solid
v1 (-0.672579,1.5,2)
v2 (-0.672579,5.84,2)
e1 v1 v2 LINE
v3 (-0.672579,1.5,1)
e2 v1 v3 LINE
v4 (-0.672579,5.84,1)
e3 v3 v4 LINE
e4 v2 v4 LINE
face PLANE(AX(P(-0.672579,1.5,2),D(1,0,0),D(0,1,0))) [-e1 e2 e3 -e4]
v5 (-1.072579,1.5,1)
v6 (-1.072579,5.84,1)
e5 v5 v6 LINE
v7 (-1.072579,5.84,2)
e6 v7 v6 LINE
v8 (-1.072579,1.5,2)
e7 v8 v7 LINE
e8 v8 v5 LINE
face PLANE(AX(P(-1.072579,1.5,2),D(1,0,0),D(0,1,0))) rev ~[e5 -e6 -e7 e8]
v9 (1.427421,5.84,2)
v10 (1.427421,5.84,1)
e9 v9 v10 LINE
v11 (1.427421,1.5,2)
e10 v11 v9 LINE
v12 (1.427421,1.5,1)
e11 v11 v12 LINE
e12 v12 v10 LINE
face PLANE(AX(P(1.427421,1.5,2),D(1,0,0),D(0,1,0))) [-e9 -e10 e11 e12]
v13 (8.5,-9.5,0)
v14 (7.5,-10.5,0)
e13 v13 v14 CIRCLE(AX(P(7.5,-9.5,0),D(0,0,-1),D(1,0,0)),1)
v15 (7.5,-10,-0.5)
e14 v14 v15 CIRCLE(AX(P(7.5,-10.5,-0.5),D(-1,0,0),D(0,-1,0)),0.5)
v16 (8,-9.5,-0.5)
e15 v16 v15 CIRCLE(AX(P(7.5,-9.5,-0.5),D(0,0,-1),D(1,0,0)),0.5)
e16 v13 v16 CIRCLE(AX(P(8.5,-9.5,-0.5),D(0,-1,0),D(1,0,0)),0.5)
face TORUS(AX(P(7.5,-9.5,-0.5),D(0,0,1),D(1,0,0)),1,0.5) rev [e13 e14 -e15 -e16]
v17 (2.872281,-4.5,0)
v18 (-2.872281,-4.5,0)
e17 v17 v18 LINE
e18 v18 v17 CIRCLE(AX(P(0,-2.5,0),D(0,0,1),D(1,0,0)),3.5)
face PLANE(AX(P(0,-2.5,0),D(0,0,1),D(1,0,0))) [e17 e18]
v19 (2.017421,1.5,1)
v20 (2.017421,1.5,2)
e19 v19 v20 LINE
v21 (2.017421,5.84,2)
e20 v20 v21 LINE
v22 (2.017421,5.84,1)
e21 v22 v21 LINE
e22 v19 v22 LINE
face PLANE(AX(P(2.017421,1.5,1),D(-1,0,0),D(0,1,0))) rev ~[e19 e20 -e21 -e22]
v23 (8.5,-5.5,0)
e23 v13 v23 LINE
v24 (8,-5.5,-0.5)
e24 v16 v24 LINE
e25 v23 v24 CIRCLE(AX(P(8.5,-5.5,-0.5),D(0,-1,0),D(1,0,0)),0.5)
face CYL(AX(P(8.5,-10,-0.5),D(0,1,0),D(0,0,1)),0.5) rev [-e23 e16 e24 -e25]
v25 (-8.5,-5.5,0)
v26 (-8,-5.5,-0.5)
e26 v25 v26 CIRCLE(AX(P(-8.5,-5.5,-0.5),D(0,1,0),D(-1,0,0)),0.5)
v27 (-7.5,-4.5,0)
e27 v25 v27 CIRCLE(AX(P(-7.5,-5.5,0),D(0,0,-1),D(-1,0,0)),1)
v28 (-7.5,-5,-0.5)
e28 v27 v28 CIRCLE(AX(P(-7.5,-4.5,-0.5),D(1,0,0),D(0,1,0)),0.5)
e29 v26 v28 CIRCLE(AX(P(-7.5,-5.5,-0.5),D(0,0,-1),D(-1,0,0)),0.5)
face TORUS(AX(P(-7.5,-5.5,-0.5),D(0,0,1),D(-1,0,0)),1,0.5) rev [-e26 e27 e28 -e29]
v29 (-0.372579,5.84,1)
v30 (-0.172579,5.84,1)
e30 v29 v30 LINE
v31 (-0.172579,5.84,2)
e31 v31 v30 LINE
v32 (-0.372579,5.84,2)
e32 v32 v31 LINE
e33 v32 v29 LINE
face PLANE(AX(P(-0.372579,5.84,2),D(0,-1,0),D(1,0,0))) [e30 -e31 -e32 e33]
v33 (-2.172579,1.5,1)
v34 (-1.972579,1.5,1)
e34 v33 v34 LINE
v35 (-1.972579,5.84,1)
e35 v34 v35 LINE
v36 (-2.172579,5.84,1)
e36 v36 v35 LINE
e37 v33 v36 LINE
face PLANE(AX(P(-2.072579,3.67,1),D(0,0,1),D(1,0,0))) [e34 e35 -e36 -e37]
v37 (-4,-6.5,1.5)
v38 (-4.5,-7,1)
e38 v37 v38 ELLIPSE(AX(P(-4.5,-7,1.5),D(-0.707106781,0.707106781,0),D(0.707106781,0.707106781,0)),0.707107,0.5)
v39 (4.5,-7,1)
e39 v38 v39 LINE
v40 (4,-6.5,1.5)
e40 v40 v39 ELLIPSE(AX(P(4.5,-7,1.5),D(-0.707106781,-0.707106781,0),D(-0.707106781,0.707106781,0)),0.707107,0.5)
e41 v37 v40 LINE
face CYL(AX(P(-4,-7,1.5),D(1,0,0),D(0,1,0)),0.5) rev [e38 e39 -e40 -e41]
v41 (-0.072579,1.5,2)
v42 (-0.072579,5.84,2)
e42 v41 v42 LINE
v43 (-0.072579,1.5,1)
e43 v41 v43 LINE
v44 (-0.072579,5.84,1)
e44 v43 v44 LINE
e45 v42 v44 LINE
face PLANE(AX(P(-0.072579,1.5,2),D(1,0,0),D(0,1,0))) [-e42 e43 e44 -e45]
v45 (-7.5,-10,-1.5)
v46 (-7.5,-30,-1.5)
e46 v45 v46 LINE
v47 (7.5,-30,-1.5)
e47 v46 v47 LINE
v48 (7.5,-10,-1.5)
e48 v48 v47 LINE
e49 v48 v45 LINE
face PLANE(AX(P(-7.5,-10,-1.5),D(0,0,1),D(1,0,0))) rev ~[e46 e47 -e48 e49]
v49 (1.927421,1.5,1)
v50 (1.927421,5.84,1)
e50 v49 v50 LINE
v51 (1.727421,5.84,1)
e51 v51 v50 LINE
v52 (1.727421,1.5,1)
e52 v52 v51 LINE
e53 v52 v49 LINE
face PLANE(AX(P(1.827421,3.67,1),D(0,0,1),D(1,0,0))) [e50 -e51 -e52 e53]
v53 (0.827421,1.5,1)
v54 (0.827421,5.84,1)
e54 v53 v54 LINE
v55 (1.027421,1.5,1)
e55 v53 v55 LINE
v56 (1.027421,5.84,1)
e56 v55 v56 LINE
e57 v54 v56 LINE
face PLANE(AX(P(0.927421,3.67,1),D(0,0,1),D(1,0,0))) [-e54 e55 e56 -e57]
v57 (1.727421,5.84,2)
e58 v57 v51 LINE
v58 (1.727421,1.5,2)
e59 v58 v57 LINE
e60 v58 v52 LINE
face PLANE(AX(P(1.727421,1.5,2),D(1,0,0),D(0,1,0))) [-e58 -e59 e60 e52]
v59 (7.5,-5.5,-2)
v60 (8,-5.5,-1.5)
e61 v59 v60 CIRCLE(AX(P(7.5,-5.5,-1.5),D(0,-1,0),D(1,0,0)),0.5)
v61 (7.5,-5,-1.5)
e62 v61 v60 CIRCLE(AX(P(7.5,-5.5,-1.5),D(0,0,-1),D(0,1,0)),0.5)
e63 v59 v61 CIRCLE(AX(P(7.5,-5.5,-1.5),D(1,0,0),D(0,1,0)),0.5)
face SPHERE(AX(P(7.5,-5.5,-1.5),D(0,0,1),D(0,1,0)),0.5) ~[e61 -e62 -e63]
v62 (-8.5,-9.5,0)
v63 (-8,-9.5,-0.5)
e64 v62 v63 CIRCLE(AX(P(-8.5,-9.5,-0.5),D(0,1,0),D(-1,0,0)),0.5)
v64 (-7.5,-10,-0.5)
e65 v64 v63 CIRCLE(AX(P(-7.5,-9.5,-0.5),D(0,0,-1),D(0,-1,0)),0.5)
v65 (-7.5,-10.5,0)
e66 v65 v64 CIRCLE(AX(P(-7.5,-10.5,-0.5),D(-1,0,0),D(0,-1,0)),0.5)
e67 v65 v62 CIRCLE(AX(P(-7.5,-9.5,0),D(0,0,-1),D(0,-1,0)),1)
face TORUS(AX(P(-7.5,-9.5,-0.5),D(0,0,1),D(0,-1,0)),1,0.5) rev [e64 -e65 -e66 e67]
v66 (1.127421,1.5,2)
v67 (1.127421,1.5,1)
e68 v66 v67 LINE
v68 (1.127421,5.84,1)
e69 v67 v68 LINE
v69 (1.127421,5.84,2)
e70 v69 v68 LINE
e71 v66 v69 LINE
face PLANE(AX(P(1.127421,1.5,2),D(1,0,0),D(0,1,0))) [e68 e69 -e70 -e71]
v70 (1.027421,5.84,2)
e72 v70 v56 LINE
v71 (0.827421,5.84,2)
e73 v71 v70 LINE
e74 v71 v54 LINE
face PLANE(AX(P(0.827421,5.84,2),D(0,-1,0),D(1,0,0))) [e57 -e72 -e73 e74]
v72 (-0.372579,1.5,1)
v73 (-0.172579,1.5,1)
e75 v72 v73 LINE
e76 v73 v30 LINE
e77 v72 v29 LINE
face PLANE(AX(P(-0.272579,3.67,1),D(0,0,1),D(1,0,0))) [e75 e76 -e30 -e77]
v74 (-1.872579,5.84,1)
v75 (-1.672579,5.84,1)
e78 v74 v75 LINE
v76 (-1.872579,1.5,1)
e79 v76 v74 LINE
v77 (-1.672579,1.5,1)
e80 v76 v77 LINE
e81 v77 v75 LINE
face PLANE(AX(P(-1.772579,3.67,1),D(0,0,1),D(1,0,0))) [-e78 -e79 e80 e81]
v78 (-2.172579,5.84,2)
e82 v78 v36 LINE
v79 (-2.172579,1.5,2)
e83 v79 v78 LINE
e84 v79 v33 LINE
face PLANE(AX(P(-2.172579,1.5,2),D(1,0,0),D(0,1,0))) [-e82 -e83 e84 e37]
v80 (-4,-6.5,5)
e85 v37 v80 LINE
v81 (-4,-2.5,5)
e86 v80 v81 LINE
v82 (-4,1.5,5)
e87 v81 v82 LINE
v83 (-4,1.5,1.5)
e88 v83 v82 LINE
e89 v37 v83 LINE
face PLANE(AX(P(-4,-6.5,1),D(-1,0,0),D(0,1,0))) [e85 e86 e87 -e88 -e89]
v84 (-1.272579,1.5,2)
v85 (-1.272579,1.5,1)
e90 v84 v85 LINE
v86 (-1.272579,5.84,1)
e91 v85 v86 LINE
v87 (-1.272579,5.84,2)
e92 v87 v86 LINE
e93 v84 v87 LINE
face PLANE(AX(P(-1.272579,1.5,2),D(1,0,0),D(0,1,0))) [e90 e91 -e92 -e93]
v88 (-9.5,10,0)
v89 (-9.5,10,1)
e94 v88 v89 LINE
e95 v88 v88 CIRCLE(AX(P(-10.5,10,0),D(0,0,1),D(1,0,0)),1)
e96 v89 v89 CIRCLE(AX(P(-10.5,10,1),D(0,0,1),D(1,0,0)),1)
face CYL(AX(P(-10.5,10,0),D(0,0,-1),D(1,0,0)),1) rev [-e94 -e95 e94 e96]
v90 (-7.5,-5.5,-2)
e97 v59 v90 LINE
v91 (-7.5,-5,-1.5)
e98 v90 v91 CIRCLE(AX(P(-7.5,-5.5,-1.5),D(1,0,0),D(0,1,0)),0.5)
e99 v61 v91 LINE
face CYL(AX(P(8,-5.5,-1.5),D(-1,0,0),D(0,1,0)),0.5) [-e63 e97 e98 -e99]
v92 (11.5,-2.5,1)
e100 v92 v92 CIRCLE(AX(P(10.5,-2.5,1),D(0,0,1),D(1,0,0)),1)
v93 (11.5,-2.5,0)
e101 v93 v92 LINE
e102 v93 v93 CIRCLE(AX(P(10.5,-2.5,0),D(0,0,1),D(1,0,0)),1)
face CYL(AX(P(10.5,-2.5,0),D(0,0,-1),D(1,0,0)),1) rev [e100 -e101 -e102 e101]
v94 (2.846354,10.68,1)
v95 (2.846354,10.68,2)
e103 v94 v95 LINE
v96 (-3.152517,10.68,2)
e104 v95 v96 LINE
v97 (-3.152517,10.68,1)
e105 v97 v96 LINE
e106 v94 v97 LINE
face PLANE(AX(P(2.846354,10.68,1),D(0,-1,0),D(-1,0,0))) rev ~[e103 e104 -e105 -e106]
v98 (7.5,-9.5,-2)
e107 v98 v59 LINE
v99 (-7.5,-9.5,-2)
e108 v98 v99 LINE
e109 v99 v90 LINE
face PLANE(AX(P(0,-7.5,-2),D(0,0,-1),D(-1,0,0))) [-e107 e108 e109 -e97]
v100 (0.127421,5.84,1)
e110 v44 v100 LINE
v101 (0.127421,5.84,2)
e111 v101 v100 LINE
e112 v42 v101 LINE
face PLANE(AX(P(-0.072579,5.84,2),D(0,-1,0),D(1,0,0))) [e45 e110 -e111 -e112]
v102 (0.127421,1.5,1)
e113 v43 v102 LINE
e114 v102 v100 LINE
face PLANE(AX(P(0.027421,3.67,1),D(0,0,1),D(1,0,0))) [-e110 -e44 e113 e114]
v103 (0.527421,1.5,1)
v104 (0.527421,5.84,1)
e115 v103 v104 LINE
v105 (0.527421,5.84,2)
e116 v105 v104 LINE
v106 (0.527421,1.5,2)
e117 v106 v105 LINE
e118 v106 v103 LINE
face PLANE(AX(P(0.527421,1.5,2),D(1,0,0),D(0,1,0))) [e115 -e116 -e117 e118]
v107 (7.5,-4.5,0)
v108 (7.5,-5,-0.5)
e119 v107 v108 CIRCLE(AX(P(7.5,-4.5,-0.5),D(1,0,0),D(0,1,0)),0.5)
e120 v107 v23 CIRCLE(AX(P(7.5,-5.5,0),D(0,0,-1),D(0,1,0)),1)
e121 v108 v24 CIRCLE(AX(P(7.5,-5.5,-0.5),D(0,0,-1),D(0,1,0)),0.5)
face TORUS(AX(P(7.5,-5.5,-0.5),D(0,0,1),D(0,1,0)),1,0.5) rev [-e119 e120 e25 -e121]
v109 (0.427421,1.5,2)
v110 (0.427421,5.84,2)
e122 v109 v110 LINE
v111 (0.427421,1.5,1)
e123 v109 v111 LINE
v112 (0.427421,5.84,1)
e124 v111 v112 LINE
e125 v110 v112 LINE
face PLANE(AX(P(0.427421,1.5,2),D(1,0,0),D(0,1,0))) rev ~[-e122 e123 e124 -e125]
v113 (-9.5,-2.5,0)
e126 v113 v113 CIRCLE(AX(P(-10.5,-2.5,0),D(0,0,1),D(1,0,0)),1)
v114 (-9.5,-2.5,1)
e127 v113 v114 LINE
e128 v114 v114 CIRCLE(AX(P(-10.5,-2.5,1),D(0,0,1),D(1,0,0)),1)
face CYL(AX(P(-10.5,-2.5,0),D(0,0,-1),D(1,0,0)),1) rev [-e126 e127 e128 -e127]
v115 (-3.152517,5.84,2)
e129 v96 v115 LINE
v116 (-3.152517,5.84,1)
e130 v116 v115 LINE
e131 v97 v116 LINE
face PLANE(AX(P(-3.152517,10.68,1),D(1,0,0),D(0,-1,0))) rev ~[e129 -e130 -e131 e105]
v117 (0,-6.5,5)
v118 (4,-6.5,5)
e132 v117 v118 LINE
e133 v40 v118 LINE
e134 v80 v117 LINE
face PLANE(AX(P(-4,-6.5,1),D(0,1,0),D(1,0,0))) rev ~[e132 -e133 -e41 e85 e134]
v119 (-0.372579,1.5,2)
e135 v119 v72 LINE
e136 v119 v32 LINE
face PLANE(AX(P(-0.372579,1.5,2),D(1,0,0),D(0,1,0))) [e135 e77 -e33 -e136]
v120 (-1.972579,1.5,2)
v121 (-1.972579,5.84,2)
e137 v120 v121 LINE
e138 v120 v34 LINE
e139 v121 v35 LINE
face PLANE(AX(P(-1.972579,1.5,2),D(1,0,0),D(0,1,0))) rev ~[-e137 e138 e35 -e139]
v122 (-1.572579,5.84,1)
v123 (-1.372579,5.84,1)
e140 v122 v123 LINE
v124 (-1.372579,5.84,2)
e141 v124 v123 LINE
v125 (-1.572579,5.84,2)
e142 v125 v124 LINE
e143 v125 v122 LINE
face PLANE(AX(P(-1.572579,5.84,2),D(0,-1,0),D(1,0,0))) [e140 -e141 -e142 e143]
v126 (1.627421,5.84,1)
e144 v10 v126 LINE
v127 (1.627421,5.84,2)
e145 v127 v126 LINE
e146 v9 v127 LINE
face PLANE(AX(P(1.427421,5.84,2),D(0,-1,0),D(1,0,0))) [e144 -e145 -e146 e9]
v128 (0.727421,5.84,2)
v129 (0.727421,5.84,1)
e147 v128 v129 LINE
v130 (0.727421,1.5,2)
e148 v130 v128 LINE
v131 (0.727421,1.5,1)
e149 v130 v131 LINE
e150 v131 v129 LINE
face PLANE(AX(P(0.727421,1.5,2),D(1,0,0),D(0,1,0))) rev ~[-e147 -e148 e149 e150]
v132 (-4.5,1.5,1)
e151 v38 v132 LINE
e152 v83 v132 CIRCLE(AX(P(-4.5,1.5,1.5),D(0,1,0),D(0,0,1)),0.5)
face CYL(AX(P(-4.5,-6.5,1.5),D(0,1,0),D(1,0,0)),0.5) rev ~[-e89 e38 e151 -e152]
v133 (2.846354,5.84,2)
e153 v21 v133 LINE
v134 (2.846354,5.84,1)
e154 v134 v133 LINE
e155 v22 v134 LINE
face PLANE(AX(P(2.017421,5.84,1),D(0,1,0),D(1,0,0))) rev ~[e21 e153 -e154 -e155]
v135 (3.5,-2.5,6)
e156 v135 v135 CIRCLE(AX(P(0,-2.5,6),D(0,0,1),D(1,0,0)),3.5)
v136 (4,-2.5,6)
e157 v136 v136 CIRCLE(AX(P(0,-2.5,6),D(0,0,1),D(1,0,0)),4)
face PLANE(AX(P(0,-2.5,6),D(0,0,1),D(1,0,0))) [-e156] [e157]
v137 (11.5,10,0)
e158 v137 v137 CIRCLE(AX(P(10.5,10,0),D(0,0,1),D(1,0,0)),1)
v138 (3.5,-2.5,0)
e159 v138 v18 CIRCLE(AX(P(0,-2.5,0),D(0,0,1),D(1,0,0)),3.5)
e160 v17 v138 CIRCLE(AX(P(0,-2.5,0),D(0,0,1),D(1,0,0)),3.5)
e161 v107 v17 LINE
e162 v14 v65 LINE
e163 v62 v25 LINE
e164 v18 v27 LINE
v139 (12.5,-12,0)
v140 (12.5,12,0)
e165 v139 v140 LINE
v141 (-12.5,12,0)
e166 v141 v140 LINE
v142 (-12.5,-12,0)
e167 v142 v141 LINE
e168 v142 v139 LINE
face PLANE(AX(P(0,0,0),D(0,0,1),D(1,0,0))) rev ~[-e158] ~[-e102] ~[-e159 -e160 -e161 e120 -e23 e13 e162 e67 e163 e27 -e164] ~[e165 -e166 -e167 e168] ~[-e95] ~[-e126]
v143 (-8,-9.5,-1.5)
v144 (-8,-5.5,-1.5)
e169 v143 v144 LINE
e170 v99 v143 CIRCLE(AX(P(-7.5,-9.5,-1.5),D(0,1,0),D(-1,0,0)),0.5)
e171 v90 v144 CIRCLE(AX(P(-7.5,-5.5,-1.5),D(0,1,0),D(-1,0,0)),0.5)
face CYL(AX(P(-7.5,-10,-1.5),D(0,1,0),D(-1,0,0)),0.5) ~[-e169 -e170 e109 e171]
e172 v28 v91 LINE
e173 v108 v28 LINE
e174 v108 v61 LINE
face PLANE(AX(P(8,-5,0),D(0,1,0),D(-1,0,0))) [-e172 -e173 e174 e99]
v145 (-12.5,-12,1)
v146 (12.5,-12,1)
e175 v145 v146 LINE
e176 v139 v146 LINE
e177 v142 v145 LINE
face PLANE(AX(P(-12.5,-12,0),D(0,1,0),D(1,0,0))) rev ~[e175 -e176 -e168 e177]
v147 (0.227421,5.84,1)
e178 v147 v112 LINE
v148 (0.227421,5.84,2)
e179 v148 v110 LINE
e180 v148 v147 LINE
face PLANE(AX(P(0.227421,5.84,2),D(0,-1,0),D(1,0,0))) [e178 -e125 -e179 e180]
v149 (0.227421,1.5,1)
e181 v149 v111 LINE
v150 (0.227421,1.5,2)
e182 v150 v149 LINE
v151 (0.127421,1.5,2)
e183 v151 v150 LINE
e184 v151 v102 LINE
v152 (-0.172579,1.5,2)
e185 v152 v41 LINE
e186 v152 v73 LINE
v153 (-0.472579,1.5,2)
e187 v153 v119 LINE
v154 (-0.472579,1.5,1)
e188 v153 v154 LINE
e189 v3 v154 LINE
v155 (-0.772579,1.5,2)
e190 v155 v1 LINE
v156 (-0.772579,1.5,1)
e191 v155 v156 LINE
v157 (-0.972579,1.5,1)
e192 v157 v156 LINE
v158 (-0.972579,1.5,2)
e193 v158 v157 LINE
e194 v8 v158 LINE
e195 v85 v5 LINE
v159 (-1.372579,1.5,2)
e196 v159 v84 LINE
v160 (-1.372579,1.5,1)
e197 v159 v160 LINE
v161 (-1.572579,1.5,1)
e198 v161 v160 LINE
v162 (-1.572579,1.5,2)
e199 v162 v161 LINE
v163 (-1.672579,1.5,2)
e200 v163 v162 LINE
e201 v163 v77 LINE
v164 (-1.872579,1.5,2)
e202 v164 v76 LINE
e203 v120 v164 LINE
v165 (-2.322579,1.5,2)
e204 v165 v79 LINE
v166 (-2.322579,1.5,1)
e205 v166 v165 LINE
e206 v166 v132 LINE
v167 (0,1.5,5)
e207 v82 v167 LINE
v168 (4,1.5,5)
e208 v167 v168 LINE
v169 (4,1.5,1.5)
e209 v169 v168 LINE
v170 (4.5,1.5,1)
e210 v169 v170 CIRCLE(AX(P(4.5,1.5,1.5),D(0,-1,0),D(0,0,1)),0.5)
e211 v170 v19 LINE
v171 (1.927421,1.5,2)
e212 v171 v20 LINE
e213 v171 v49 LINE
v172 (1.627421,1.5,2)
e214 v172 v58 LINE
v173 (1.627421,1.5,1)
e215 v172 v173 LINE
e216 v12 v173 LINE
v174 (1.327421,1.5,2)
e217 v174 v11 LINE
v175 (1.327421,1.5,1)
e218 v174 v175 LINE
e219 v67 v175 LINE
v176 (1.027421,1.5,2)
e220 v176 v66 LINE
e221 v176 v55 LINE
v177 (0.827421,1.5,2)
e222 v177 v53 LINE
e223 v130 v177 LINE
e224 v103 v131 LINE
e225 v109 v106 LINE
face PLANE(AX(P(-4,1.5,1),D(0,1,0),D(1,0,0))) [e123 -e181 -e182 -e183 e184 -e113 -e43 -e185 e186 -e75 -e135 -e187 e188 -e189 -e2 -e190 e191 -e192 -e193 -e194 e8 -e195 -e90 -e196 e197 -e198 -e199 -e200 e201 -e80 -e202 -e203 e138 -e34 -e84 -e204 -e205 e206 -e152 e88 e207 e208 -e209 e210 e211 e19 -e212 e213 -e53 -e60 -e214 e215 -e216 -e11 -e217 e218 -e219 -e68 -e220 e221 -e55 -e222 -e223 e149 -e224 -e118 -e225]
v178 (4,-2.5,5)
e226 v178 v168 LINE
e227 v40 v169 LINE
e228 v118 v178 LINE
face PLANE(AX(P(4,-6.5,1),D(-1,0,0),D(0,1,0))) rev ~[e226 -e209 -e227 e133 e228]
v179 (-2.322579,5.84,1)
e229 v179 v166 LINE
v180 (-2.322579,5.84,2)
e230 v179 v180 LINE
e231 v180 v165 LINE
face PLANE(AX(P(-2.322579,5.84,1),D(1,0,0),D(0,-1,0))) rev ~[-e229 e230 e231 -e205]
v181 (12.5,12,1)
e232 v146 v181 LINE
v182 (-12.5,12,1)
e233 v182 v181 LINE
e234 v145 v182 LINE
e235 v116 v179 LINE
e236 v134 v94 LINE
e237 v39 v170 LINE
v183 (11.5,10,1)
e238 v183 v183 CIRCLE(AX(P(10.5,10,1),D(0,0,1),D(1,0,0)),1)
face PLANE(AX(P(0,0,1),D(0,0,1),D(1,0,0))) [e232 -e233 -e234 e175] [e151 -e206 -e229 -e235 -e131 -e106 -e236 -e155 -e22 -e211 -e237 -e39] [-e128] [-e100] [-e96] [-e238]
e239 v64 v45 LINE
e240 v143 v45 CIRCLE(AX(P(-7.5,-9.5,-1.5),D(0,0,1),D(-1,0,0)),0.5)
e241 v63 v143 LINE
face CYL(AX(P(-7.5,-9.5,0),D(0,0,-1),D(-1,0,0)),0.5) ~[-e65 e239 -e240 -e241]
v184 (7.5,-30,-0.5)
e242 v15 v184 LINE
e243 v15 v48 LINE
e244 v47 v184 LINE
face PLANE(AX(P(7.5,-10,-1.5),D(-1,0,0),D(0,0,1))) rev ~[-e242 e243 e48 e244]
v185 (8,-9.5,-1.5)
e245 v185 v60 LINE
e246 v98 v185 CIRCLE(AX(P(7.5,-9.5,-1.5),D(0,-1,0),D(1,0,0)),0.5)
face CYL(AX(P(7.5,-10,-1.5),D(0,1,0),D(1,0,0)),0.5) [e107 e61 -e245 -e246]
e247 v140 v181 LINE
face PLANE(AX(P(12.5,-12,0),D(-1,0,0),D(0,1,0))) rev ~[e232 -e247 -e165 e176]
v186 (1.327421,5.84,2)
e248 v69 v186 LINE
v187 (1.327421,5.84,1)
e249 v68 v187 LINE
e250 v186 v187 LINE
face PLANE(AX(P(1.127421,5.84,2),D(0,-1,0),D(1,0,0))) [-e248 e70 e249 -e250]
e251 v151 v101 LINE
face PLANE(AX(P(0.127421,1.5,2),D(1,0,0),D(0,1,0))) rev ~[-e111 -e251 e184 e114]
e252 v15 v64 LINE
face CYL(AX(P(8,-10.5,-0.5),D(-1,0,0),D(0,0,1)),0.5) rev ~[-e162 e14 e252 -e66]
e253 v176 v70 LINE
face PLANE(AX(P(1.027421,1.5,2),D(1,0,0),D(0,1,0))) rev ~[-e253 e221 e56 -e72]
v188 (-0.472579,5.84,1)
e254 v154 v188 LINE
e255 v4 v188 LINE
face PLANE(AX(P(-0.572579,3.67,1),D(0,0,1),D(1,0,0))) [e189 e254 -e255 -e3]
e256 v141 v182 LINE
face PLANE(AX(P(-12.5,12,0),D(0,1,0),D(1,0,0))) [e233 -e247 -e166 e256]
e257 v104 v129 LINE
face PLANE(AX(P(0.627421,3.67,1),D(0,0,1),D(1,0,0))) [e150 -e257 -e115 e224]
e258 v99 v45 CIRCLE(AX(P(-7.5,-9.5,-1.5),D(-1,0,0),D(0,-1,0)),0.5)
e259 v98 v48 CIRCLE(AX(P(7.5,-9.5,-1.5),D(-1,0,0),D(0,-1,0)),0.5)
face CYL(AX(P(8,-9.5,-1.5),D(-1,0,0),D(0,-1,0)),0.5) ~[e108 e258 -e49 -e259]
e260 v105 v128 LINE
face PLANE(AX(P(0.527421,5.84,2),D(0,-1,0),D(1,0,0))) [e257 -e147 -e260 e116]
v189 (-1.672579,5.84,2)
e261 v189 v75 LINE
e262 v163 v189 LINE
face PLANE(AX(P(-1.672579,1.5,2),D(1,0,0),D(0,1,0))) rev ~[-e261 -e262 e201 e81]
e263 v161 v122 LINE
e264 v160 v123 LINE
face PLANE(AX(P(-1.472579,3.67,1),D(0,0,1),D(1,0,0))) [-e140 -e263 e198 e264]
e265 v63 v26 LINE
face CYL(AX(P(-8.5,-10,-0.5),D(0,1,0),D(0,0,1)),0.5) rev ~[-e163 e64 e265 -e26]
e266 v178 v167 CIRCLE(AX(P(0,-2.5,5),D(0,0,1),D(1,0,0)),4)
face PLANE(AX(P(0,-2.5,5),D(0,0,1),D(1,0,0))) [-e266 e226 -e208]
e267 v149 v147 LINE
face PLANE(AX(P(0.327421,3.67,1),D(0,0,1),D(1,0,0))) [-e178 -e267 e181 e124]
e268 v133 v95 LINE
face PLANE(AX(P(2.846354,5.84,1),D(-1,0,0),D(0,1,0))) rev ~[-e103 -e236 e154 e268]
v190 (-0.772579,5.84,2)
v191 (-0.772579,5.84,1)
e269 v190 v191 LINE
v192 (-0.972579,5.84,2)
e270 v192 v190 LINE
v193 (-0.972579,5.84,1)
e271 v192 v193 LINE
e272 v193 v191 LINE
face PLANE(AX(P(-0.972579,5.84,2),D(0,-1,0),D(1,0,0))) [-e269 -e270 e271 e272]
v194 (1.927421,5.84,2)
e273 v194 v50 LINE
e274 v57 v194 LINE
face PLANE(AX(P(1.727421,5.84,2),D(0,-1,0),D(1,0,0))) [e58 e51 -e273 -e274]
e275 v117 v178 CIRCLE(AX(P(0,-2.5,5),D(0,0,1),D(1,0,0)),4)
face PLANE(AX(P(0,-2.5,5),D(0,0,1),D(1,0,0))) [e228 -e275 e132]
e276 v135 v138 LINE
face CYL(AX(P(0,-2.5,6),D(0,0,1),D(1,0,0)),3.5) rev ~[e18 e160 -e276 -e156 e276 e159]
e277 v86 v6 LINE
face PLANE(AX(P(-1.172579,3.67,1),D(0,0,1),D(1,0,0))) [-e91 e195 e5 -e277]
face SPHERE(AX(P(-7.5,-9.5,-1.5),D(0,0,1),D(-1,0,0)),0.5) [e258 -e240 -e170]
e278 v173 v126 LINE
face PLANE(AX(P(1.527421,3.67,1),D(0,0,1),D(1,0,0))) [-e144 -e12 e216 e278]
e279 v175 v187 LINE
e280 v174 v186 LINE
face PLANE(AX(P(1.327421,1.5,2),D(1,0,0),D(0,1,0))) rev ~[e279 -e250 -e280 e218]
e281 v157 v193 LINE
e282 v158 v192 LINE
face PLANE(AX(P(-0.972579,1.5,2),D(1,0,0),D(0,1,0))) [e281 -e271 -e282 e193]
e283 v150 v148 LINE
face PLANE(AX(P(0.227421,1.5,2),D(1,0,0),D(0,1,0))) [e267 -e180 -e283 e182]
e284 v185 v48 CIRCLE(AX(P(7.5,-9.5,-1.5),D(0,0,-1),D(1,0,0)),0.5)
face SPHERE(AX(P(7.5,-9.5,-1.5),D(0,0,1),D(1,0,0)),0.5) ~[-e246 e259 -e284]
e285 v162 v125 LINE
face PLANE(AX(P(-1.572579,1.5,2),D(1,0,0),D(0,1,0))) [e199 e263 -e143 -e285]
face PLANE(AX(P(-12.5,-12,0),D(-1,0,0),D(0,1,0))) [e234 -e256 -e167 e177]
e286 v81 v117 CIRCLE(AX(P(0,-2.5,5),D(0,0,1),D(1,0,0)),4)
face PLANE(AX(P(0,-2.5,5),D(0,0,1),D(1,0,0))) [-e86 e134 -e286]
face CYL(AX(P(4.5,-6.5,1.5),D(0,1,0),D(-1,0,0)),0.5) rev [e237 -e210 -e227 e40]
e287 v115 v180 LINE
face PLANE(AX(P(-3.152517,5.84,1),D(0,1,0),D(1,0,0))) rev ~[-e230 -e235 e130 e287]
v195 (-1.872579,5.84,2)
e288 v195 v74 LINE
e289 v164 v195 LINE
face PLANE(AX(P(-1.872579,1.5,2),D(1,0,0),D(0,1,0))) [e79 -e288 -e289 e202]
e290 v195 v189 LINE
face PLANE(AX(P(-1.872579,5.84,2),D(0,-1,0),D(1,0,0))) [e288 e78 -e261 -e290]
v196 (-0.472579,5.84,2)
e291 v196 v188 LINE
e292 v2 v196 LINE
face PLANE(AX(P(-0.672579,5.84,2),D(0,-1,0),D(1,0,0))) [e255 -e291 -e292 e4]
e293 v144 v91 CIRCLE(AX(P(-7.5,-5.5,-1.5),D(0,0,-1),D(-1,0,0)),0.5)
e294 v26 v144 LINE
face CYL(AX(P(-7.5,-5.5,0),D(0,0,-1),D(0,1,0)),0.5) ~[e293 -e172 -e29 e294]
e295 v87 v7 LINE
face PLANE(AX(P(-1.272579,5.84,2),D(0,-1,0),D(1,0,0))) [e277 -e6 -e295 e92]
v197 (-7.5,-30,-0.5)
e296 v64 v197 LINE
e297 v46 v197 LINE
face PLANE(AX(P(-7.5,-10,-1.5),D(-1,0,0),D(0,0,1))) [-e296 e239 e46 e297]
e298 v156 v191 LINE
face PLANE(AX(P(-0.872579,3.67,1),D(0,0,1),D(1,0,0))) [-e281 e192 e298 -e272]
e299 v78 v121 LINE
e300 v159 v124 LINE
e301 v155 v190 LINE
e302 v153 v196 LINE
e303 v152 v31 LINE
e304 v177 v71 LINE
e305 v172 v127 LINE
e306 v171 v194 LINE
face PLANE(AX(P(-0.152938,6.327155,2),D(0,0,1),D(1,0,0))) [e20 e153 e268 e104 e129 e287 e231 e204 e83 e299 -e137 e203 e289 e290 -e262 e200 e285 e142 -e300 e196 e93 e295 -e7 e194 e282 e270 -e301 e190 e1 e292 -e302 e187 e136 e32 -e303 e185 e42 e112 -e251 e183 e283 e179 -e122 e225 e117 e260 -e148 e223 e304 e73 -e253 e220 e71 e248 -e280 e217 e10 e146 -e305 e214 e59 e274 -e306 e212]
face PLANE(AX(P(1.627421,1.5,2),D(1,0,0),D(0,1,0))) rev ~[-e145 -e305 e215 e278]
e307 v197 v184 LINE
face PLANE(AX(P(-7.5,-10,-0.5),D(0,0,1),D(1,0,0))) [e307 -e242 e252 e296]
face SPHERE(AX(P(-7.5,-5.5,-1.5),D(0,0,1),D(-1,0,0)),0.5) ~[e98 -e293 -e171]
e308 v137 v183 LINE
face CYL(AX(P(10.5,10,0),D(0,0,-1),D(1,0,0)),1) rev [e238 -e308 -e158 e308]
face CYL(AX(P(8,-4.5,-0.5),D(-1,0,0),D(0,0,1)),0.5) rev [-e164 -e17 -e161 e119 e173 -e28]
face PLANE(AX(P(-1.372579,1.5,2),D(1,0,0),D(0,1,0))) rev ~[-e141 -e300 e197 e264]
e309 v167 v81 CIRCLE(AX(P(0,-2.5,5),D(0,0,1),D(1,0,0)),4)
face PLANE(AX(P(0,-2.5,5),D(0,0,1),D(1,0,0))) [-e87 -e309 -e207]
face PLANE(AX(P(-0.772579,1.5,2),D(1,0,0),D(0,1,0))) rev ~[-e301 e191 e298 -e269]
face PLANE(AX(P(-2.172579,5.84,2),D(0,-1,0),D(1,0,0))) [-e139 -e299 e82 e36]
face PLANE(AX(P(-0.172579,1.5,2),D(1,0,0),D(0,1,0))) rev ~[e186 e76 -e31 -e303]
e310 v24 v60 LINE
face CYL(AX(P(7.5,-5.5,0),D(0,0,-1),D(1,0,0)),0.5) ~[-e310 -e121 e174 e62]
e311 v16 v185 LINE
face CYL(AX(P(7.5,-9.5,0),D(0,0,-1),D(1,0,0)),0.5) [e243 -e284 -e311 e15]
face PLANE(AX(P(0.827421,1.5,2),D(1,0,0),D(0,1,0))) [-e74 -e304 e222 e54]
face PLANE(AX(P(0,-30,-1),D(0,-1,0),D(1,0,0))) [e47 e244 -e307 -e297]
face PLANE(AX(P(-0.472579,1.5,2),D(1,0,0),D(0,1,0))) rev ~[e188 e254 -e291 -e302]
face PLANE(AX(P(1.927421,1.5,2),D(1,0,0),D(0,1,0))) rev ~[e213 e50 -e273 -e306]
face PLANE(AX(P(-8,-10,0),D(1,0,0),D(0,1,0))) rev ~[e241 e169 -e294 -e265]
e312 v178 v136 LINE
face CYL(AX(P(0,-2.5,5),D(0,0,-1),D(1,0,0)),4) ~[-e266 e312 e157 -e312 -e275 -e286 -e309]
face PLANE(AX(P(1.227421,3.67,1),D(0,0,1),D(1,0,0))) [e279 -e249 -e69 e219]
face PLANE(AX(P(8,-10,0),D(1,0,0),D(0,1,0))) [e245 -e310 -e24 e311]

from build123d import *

# Parameters (mm, degrees)
SKETCH1_W           = 25
SKETCH1_H           = 24
SKETCH1_R           = 1
BOSS_EXTRUDE1_DEPTH = 1
SKETCH2_W           = 8
SKETCH2_H           = 8
BOSS_EXTRUDE2_DEPTH = 4
SKETCH3_R           = 4
BOSS_EXTRUDE3_DEPTH = 1
FILLET2_R           = 0.5
SKETCH4_W           = 16
SKETCH4_H           = 5
BOSS_EXTRUDE4_DEPTH = 2
FILLET3_R           = 0.5
SKETCH5_R           = 3.5
CUT_EXTRUDE1_DEPTH  = 6
BOSS_EXTRUDE5_DEPTH = 1
SKETCH7_W           = 0.2
SKETCH7_H           = 4.34
CUT_EXTRUDE2_DEPTH  = 1
LPATTERN1_COUNT     = 14
LPATTERN1_PITCH     = 0.3
SKETCH8_W           = 15
SKETCH8_H           = 1
BOSS_EXTRUDE6_DEPTH = 20


with BuildPart() as part:
    # Sketch1 → Boss-Extrude1 (new body)
    with BuildSketch(Plane.XY):
        Rectangle(SKETCH1_W, SKETCH1_H)
        with Locations((10.5, 10)):
            Circle(SKETCH1_R, mode=Mode.SUBTRACT)
        with Locations((-10.5, 10)):
            Circle(SKETCH1_R, mode=Mode.SUBTRACT)
        with Locations((-10.5, -2.5)):
            Circle(SKETCH1_R, mode=Mode.SUBTRACT)
        with Locations((10.5, -2.5)):
            Circle(SKETCH1_R, mode=Mode.SUBTRACT)
    extrude(amount=BOSS_EXTRUDE1_DEPTH)

    # Sketch2 → Boss-Extrude2 (add)
    with BuildSketch(Plane.XY.offset(1)):
        with Locations((0, -2.5)):
            Rectangle(SKETCH2_W, SKETCH2_H)
    extrude(amount=BOSS_EXTRUDE2_DEPTH)

    # Sketch3 → Boss-Extrude3 (add)
    with BuildSketch(Plane.XY.offset(5)):
        with Locations((0, -2.5)):
            Circle(SKETCH3_R)
    extrude(amount=BOSS_EXTRUDE3_DEPTH)

    # Fillet2
    fillet2_edges = [part.edges().sort_by_distance(p)[0] for p in [
        (4, -2.5, 1),
        (-4, -2.5, 1),
        (0, -6.5, 1),
    ]]
    fillet(fillet2_edges, radius=FILLET2_R)

    # Sketch4 → Boss-Extrude4 (add)
    with BuildSketch(Plane(origin=(0, 0, 0), x_dir=(-1, 0, 0), z_dir=(0, 0, -1))):
        with Locations((0, -7.5)):
            Rectangle(SKETCH4_W, SKETCH4_H)
    extrude(amount=BOSS_EXTRUDE4_DEPTH)

    # Fillet3
    fillet3_edges = [part.edges().sort_by_distance(p)[0] for p in [
        (-8, -7.5, 0),
        (-8, -10, -1),
        (0, -5, 0),
        (-8, -5, -1),
        (8, -7.5, 0),
        (8, -5, -1),
        (0, -10, 0),
        (8, -10, -1),
        (-8, -7.5, -2),
        (0, -5, -2),
        (8, -7.5, -2),
        (0, -10, -2),
    ]]
    fillet(fillet3_edges, radius=FILLET3_R)

    # Sketch5 → Cut-Extrude1 (cut)
    with BuildSketch(Plane.XY.offset(6)):
        with Locations((0, -2.5)):
            Circle(SKETCH5_R)
    extrude(amount=-CUT_EXTRUDE1_DEPTH, mode=Mode.SUBTRACT)

    # Sketch6 → Boss-Extrude5 (add)
    with BuildSketch(Plane.XY.offset(1)):
        Polygon((-3.152517362, 10.68), (-3.152517362, 5.84), (-2.322578899, 5.84), (-2.322578899, 1.5), (2.017421101, 1.5), (2.017421101, 5.84), (2.846354447, 5.84), (2.846354447, 6.468877905), (2.846354447, 10.68), align=None)
    extrude(amount=BOSS_EXTRUDE5_DEPTH)

    # Sketch7 → Cut-Extrude2 (cut)
    with BuildSketch(Plane.XY.offset(2)):
        with Locations((-2.072578899, 3.67)):
            Rectangle(SKETCH7_W, SKETCH7_H)
    cut_extrude2 = extrude(amount=-CUT_EXTRUDE2_DEPTH, mode=Mode.SUBTRACT)

    # LPattern1: Cut-Extrude2 ×14
    with Locations(*[(i * LPATTERN1_PITCH, 0, 0) for i in range(1, LPATTERN1_COUNT)]):
        add(cut_extrude2, mode=Mode.SUBTRACT)

    # Sketch8 → Boss-Extrude6 (add)
    with BuildSketch(Plane.XZ.offset(10)):
        with Locations((0, -1)):
            Rectangle(SKETCH8_W, SKETCH8_H)
    extrude(amount=BOSS_EXTRUDE6_DEPTH)


solid = part.part
